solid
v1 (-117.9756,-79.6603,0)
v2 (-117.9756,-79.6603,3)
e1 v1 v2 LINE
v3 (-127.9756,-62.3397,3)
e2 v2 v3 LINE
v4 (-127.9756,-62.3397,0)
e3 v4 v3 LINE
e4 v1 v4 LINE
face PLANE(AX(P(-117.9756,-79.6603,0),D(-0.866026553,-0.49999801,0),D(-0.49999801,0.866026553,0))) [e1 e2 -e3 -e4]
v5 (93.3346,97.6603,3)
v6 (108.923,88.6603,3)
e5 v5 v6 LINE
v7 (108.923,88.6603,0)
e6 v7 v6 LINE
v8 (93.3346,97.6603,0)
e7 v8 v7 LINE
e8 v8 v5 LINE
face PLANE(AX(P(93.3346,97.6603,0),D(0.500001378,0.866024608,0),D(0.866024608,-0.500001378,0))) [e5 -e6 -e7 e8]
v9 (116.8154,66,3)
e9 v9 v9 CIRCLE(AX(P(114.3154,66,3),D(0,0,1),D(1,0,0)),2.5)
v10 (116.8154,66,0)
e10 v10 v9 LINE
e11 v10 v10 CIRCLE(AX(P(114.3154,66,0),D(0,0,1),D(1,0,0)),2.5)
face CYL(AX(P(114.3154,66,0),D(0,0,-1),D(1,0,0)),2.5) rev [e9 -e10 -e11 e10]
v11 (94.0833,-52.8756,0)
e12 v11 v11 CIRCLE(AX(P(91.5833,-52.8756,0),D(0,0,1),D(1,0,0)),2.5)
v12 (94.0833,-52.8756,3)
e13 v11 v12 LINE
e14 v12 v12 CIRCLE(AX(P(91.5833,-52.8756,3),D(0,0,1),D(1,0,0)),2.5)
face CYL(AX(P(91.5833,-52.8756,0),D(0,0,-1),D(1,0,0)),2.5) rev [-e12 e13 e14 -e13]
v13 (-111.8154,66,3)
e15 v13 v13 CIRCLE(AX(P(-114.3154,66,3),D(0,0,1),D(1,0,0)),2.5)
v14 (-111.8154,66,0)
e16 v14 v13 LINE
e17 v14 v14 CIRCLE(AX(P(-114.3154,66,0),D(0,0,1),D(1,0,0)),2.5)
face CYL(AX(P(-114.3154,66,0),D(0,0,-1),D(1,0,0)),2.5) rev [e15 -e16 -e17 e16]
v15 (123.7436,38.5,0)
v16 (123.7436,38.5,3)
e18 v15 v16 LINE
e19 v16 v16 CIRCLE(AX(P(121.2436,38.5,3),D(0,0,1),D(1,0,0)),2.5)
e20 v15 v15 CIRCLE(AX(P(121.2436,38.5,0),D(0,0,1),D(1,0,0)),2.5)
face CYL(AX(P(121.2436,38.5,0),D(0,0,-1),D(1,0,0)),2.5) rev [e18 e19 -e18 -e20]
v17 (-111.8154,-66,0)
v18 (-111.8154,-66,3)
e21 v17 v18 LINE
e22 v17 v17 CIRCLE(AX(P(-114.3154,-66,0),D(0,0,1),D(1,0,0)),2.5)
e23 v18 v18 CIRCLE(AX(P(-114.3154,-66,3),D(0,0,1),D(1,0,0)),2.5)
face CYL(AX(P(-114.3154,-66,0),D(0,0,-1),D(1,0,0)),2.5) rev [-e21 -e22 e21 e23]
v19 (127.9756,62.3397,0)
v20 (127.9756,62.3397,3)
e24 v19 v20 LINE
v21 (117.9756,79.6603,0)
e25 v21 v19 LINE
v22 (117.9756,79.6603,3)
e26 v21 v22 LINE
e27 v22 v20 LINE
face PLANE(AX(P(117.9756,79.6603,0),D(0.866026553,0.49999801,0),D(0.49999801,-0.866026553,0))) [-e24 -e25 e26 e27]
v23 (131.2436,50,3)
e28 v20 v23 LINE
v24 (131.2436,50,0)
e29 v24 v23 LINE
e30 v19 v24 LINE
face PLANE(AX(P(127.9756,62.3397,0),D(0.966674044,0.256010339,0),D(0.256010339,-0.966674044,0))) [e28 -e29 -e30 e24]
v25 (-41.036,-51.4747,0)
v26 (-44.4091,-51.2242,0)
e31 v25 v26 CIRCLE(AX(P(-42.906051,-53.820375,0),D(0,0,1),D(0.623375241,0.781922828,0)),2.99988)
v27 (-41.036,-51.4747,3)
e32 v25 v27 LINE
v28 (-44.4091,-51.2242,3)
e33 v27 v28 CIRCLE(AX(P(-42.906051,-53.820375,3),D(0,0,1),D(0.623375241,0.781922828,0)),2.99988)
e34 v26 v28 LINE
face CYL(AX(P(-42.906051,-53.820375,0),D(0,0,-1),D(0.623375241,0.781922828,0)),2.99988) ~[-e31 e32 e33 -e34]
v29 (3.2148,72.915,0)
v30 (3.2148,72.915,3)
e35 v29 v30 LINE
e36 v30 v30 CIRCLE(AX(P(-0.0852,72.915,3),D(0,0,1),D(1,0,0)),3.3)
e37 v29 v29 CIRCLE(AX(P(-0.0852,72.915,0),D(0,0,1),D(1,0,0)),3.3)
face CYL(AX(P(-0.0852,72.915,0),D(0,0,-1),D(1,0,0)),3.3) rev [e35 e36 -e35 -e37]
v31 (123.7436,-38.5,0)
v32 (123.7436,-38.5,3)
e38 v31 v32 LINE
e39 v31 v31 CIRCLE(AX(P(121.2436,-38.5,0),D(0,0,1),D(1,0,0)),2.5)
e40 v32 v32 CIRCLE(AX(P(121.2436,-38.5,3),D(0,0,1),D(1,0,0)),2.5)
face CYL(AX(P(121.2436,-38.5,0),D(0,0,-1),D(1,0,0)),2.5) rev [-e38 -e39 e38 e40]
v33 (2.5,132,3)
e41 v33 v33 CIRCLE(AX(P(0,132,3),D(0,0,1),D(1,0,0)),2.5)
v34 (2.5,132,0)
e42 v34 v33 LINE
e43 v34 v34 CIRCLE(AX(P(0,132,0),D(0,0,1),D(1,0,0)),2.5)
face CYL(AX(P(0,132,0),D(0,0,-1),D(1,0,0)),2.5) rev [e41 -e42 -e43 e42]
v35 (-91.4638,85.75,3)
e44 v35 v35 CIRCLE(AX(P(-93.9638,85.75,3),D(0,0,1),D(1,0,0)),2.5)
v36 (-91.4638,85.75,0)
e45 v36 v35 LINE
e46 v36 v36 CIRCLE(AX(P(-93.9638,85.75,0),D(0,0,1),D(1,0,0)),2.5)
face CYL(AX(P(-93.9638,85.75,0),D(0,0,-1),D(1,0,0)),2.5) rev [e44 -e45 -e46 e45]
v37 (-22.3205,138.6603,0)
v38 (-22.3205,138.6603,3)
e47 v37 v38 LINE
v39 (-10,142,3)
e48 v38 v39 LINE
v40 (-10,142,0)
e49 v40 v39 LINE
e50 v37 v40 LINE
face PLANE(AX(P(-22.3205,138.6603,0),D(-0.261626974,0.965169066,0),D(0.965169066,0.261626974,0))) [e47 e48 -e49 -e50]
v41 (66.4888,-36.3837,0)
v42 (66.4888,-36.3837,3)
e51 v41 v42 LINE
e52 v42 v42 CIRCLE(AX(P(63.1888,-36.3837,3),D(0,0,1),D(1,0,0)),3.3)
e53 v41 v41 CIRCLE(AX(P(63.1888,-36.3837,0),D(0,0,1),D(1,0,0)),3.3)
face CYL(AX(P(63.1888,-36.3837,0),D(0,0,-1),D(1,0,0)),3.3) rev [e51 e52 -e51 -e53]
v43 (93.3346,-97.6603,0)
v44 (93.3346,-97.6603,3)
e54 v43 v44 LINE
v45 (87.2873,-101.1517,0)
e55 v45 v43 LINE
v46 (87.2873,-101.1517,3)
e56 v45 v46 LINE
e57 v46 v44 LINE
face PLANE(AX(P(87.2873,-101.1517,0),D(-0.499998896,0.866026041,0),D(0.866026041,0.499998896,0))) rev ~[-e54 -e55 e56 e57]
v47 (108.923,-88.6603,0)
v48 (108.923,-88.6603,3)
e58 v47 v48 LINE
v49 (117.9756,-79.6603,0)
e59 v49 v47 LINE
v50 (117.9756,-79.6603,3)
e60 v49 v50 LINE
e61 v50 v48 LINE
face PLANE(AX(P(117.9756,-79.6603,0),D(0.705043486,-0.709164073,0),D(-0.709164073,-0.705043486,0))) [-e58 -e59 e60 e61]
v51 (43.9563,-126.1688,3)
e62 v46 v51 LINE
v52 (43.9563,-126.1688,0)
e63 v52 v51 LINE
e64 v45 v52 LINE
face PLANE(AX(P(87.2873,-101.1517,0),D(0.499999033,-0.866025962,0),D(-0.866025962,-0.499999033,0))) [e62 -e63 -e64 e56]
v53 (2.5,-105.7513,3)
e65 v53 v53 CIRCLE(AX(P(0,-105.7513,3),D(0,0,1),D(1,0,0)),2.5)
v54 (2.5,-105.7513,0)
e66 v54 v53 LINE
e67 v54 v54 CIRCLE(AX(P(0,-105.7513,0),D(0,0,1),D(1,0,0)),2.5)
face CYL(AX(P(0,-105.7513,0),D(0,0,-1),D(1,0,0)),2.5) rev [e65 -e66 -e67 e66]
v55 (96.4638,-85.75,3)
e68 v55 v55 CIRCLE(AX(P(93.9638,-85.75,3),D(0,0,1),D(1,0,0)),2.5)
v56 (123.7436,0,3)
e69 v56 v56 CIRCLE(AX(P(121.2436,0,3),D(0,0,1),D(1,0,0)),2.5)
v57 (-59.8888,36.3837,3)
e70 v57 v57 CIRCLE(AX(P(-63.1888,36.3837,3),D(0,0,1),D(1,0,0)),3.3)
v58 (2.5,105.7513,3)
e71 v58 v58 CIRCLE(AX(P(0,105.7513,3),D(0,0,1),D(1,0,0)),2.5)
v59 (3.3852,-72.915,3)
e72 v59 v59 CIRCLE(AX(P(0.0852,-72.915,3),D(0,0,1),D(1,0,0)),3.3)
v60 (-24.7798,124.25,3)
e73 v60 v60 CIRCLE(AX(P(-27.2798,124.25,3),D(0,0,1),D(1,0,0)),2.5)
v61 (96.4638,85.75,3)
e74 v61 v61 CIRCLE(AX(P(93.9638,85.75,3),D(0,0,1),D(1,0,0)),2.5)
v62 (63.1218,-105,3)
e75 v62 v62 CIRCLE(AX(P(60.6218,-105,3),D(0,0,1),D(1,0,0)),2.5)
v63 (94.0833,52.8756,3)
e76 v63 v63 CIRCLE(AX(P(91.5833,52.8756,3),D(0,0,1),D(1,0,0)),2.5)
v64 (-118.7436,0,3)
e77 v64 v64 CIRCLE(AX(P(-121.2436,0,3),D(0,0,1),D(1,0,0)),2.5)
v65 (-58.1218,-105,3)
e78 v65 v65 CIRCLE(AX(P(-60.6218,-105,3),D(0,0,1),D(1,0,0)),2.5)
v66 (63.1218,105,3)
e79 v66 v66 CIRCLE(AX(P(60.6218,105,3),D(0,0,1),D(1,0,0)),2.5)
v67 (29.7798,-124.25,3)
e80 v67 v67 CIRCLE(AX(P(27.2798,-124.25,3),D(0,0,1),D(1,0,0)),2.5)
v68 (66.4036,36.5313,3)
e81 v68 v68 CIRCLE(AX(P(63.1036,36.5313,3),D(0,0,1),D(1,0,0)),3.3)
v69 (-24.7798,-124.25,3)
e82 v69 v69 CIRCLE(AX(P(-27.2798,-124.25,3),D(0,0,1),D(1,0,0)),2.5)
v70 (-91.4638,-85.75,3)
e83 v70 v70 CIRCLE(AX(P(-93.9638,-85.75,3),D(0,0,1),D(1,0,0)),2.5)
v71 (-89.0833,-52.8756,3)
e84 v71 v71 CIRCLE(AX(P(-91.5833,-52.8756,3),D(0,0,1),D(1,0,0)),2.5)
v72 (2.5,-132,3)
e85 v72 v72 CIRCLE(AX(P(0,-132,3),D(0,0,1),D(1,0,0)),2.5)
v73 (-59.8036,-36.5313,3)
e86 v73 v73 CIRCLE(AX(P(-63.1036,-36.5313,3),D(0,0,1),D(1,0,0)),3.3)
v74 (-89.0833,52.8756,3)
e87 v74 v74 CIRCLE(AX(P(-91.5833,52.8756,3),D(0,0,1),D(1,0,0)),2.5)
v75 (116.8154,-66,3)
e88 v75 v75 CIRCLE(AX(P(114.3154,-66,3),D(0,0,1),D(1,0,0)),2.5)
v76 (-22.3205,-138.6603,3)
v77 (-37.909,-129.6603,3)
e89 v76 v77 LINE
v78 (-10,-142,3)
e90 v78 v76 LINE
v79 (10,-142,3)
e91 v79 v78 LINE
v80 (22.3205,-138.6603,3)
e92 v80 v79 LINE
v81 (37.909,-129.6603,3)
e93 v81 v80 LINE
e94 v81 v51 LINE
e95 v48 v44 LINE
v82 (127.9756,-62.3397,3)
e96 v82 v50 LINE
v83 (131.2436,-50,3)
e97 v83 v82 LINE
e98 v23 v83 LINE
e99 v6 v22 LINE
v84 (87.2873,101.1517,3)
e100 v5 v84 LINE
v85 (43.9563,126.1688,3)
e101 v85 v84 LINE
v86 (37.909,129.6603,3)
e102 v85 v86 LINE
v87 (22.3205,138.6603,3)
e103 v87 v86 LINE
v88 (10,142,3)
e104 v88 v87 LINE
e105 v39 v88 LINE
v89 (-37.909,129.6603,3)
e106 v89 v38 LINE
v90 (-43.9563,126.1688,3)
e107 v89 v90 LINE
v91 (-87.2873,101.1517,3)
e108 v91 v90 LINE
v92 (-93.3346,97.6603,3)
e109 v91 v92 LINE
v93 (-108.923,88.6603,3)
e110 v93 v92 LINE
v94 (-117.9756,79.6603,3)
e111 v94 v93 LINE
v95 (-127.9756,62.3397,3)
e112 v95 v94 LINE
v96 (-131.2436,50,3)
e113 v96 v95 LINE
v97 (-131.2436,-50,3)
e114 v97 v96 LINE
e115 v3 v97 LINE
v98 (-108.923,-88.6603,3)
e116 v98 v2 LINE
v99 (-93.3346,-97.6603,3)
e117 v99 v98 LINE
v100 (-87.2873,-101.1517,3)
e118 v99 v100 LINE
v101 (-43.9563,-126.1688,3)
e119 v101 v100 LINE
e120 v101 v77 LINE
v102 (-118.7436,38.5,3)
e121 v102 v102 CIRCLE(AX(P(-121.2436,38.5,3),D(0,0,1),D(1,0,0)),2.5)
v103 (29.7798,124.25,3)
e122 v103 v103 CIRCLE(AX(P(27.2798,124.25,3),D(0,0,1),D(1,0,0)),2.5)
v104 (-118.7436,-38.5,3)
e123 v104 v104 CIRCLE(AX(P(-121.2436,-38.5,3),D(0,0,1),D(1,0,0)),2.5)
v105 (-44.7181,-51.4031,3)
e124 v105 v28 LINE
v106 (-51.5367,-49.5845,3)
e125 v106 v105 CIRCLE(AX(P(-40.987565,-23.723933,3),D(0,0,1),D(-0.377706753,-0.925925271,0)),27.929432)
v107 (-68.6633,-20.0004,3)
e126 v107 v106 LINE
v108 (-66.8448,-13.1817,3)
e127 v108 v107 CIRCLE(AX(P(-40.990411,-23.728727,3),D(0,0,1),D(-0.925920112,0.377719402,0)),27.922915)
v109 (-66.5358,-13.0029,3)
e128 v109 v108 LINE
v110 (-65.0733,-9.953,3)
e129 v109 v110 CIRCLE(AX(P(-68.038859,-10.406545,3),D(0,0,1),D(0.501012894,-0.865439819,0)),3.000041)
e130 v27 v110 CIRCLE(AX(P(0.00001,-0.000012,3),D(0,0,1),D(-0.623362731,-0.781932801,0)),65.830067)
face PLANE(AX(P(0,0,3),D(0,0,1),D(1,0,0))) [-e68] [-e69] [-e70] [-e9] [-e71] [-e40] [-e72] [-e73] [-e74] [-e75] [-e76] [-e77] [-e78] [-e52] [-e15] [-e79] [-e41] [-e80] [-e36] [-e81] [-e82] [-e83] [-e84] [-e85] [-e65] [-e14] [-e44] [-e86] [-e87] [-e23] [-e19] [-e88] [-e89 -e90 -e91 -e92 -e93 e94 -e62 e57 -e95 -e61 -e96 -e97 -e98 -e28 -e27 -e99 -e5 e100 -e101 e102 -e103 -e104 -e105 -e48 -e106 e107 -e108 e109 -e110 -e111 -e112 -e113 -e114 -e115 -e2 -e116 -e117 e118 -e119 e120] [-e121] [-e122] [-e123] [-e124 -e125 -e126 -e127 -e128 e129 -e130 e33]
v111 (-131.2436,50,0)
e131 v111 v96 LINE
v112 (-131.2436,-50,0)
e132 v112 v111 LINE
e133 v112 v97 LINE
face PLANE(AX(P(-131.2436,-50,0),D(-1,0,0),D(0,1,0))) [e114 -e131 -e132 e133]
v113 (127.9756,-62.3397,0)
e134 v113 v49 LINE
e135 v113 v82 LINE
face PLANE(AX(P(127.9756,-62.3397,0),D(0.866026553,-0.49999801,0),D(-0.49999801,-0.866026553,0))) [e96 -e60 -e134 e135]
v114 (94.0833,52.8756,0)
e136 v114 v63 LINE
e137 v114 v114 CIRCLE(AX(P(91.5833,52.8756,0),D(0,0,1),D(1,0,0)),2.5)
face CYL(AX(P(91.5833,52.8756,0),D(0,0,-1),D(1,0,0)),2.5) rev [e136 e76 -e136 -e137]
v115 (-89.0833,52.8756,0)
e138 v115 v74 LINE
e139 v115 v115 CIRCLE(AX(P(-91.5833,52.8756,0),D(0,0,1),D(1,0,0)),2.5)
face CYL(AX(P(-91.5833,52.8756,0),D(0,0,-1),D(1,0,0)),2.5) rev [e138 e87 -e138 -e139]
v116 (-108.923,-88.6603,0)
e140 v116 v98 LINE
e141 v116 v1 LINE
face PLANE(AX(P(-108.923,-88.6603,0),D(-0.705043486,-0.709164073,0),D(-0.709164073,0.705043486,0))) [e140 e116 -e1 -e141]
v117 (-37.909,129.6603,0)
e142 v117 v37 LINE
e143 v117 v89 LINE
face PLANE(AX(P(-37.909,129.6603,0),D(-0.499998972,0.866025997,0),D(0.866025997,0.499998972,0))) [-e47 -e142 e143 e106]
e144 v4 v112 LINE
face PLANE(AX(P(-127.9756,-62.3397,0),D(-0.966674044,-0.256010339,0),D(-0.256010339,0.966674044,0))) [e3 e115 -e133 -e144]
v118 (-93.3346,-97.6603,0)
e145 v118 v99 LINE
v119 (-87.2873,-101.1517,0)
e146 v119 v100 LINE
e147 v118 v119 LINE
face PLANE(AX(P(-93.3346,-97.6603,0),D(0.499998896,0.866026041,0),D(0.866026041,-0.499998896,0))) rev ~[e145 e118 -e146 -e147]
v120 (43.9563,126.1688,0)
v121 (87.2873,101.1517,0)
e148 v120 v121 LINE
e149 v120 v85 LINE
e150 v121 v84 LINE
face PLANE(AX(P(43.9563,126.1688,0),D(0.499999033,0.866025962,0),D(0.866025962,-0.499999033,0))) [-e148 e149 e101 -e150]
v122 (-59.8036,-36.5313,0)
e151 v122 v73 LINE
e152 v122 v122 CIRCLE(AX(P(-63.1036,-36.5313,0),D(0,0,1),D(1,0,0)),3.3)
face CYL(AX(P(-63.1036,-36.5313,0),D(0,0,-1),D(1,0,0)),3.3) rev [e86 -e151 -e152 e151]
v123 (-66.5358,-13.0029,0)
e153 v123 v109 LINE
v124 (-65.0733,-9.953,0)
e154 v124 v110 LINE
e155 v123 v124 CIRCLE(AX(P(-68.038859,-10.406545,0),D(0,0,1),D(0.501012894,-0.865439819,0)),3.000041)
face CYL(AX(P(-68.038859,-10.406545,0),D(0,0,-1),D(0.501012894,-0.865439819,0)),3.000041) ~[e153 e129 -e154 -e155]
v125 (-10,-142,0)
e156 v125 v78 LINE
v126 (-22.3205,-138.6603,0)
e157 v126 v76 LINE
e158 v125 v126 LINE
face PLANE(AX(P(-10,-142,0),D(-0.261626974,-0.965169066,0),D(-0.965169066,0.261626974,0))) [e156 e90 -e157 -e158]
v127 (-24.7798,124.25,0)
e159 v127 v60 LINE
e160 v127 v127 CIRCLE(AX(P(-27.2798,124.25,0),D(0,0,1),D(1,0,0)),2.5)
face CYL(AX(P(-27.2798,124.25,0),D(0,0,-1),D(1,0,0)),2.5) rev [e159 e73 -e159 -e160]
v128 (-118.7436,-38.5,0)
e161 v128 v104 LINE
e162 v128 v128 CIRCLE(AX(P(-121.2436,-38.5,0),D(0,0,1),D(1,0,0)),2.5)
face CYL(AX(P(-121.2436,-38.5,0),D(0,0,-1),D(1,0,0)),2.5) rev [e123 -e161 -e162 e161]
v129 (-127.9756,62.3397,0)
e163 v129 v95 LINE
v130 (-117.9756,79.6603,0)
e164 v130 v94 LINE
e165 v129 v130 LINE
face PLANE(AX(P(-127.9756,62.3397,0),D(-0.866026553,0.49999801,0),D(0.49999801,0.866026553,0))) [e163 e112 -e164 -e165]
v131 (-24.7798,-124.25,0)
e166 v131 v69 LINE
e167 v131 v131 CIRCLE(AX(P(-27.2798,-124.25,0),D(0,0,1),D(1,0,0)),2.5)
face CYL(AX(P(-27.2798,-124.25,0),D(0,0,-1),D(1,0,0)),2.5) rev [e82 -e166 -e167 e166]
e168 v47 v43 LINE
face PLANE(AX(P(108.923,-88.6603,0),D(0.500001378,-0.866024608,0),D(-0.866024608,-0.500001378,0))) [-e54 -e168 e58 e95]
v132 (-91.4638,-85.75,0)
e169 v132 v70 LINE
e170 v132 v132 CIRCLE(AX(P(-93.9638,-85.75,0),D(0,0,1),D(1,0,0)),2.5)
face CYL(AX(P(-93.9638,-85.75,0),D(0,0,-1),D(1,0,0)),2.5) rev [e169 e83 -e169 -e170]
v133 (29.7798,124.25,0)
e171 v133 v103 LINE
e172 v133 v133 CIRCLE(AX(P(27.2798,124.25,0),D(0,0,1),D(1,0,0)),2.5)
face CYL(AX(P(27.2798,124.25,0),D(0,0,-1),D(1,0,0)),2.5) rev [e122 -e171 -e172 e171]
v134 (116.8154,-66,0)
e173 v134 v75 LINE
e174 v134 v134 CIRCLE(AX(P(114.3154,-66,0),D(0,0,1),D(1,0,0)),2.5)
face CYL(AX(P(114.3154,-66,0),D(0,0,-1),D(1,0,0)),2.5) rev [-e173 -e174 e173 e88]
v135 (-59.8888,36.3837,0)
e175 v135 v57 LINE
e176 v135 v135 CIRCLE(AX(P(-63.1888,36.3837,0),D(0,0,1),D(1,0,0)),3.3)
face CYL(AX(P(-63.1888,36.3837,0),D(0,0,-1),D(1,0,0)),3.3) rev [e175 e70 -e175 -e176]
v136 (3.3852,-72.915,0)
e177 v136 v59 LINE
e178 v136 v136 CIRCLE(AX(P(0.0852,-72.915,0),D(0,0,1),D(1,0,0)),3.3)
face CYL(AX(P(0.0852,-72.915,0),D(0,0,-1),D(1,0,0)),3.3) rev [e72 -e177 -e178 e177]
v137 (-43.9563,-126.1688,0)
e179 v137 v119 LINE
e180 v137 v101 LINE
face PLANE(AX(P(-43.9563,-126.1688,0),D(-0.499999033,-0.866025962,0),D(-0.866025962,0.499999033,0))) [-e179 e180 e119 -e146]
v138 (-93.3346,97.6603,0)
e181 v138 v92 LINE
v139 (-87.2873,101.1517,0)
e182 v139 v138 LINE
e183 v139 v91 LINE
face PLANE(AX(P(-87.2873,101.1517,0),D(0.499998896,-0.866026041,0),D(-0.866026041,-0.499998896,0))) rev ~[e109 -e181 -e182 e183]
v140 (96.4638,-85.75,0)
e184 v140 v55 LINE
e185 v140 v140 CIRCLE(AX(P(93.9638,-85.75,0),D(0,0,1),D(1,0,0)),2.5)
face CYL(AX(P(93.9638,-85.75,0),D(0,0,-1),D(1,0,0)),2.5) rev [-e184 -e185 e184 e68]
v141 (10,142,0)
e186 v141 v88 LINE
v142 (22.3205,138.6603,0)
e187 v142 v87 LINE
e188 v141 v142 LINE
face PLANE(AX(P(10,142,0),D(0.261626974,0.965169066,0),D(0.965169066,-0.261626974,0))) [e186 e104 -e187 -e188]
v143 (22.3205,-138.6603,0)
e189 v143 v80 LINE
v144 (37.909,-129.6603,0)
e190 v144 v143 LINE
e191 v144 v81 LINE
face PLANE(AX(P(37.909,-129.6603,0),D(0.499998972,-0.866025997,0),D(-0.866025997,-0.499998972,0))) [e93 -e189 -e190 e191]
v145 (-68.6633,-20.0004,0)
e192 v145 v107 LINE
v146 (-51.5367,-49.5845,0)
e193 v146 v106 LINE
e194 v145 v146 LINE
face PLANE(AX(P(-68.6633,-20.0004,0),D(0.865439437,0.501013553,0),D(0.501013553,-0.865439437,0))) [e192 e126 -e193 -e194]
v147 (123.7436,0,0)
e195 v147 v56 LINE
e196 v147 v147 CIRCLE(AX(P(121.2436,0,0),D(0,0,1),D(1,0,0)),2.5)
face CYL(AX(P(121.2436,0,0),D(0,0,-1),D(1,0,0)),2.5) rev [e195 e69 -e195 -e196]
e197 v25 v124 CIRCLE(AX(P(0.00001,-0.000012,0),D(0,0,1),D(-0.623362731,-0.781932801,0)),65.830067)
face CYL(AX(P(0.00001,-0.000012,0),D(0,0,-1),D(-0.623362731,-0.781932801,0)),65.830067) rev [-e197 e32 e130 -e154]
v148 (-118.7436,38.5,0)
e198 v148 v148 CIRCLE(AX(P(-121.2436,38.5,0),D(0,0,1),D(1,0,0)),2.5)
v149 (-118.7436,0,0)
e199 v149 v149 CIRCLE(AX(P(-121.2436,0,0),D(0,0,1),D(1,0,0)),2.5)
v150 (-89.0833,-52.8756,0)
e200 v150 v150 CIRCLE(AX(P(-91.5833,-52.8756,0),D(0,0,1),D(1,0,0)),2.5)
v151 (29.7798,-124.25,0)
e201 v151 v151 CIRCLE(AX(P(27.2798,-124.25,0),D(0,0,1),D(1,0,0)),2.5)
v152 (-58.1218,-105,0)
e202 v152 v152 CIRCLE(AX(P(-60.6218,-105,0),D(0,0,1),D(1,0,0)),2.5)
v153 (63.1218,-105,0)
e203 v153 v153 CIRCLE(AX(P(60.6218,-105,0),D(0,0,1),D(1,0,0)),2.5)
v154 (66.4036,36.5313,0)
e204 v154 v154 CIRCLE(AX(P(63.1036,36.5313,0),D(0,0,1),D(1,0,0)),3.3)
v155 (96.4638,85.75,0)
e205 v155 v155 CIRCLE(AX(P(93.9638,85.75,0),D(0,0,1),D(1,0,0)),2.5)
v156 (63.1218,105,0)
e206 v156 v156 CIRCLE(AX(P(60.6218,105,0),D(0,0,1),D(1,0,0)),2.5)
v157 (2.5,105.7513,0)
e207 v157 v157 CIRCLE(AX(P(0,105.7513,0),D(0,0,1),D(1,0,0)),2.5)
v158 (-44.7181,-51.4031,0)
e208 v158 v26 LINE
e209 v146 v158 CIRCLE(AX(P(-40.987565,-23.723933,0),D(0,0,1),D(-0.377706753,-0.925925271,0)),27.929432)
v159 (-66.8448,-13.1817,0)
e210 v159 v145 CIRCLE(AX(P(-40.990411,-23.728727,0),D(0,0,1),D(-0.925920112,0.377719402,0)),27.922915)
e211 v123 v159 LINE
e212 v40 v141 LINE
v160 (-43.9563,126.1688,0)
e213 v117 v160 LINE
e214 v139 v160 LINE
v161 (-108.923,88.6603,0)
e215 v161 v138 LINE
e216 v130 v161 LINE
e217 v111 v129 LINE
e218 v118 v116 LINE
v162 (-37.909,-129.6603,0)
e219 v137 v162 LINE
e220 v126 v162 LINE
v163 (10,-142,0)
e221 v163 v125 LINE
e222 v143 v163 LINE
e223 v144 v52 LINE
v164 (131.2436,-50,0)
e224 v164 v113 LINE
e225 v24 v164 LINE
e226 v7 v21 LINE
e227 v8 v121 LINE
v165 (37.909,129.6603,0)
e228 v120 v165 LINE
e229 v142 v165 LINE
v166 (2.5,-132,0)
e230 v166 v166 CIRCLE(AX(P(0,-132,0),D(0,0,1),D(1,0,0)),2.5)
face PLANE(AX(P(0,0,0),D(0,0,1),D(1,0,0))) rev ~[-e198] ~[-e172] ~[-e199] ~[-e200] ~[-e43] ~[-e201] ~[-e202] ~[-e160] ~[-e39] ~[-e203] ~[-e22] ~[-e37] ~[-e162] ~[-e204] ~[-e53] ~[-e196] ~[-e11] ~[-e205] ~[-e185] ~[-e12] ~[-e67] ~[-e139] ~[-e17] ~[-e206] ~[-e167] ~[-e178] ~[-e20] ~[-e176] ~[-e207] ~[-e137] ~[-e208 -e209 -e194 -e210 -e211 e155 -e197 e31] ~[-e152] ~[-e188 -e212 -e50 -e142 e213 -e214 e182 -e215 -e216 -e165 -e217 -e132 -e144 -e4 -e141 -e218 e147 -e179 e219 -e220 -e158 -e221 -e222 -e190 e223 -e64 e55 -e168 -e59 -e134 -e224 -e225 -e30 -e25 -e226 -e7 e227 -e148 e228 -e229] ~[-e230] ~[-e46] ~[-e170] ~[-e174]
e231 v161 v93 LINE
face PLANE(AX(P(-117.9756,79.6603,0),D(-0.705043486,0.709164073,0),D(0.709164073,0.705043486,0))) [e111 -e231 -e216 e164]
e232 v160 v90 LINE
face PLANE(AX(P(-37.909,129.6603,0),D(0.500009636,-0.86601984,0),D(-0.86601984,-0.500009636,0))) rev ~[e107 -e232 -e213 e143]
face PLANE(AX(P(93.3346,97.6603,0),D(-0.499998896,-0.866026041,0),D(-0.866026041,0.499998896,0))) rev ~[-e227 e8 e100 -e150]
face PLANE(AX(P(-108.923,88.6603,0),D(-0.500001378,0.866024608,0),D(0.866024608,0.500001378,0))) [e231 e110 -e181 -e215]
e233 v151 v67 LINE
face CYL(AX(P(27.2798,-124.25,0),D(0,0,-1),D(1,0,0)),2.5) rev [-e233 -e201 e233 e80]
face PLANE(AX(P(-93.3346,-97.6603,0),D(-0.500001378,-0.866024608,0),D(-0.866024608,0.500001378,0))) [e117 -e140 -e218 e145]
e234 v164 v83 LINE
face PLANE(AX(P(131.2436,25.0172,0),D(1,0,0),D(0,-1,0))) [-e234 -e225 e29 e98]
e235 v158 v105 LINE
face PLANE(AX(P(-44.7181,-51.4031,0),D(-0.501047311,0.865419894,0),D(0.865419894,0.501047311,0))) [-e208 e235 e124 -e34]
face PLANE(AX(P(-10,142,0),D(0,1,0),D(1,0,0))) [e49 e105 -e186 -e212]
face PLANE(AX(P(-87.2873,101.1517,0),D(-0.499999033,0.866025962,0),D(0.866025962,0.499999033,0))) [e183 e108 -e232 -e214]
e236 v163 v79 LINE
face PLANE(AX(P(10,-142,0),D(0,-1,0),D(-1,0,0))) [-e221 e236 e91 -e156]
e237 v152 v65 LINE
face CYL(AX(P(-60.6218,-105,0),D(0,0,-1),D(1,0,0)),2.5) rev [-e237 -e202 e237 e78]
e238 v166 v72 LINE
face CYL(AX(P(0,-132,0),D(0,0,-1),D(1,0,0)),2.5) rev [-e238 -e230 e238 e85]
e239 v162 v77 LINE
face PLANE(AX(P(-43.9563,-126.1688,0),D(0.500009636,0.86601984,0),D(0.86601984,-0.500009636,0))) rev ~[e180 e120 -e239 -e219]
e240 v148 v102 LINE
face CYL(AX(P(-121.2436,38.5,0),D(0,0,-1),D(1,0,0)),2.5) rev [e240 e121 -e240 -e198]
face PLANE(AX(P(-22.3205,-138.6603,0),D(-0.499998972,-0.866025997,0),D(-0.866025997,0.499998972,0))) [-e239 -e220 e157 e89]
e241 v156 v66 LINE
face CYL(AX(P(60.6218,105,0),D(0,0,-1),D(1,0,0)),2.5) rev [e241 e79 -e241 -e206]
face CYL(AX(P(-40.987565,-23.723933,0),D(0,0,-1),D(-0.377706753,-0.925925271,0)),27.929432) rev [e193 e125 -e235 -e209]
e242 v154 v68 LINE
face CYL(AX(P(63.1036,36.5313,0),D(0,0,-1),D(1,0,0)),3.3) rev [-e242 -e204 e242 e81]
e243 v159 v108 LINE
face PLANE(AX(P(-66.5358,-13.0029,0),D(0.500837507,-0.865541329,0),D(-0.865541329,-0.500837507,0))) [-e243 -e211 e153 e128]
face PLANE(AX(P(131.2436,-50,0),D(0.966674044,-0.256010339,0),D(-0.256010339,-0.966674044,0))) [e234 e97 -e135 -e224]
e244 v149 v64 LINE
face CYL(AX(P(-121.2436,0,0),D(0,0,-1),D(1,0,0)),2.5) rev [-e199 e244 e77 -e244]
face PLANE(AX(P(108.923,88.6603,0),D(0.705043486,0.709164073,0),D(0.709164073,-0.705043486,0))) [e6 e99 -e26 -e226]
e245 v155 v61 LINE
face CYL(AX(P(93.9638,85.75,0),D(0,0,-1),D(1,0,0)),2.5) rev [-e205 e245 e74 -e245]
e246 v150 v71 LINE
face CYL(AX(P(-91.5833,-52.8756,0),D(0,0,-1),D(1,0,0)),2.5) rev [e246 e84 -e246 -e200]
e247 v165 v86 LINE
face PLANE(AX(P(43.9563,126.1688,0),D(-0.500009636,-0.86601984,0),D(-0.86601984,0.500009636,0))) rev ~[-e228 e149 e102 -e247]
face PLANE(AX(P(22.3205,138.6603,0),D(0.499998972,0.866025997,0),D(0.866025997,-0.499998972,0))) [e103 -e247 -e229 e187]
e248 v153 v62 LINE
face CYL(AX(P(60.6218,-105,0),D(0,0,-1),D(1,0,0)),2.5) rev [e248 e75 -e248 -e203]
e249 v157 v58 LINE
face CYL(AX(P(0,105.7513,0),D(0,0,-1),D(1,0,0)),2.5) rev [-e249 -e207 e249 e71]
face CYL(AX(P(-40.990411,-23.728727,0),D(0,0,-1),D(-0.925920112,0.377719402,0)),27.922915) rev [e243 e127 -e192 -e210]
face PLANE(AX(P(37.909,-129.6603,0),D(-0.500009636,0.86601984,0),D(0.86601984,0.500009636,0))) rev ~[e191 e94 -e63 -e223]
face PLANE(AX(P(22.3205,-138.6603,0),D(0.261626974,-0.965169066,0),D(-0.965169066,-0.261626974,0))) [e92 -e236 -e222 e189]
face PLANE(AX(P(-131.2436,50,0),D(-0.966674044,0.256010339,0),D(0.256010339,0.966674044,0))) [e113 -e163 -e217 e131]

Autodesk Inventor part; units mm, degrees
ref_plane "YZ Plane" through (0, 0, 0) normal (1, 0, 0) x (0, 1, 0)
ref_plane "XZ Plane" through (0, 0, 0) normal (0, 1, 0) x (-1, 0, 0)
ref_plane "XY Plane" through (0, 0, 0) normal (0, 0, 1) x (1, 0, 0)
sketch "Skizze1" plane through (0, 0, 0) normal (0, 0, 1) x (1, 0, 0)
  circle A0 centre (60.6218, 105) radius 2.5
  circle A1 centre (-60.6218, 105) radius 2.5
  circle A2 centre (-121.2436, 0) radius 2.5
  circle A3 centre (-60.6218, -105) radius 2.5
  circle A4 centre (60.6218, -105) radius 2.5
  circle A5 centre (121.2436, 0) radius 2.5
  arc A6 (-66.5358, -13.0029) -> (-65.0733, -9.953) centre (-68.0388, -10.4066) ccw
  line L0 (-66.5358, -13.0029) -> (-66.8448, -13.1817)
  arc A7 (-66.8448, -13.1817) -> (-68.6633, -20.0004) centre (-40.9893, -23.7291) ccw
  line L1 (-68.6633, -20.0004) -> (-51.5367, -49.5845)
  arc A8 (-51.5367, -49.5845) -> (-44.7181, -51.4031) centre (-40.9893, -23.7291) ccw
  line L2 (-44.7181, -51.4031) -> (-44.4091, -51.2242)
  arc A9 (-41.036, -51.4747) -> (-44.4091, -51.2242) centre (-42.9061, -53.8205) ccw
  arc A10 (-41.036, -51.4747) -> (-65.0733, -9.953) centre (0, 0) ccw
  circle A11 centre (-63.1036, -36.5313) radius 3.3
  circle A12 centre (63.1888, -36.3837) radius 3.3
  circle A13 centre (-0.0852, 72.915) radius 3.3
  circle A14 centre (63.1036, 36.5313) radius 3.3
  circle A15 centre (0.0852, -72.915) radius 3.3
  circle A16 centre (-63.1888, 36.3837) radius 3.3
  arc A17 (131.2436, 25.0172) -> (128.4541, 26.8548) centre (129.2436, 25.0172) ccw
  line L3 (131.2436, 25.0172) -> (131.2436, -25.0172)
  arc A18 (128.4541, -26.8548) -> (131.2436, -25.0172) centre (129.2436, -25.0172) ccw
  arc A19 (128.4541, -26.8548) -> (126.2436, -26.4) centre (126.2436, -32) ccw
  line L4 (126.2436, -26.4) -> (110.2436, -26.4) construction
  arc A20 (110.2436, -26.4) -> (104.6436, -32) centre (110.2436, -32) ccw construction
  line L5 (104.6436, -32) -> (104.6436, -40.5551) construction
  arc A21 (98.0436, -44.3656) -> (104.6436, -40.5551) centre (100.2436, -40.5551) ccw construction
  line L6 (98.0436, -44.3656) -> (92.5532, -41.1958) construction
  arc A22 (92.5532, -41.1958) -> (84.9034, -43.2455) centre (89.7532, -46.0455) ccw construction
  line L7 (84.9034, -43.2455) -> (79.9034, -51.9058) construction
  arc A23 (79.9034, -51.9058) -> (81.9532, -59.5555) centre (84.7532, -54.7058) ccw construction
  line L8 (81.9532, -59.5555) -> (87.4436, -62.7254) construction
  arc A24 (87.4436, -70.3464) -> (87.4436, -62.7254) centre (85.2436, -66.5359) ccw construction
  line L9 (87.4436, -70.3464) -> (80.0346, -74.624) construction
  arc A25 (80.0346, -74.624) -> (77.9848, -82.2737) centre (82.8346, -79.4737) ccw construction
  line L10 (77.9848, -82.2737) -> (85.9848, -96.1301) construction
  arc A26 (85.9848, -96.1301) -> (87.4839, -97.8171) centre (90.8346, -93.3301) ccw
  arc A27 (87.2873, -101.1517) -> (87.4839, -97.8171) centre (86.2873, -99.4196) ccw
  line L11 (87.2873, -101.1517) -> (43.9563, -126.1688)
  arc A28 (40.9701, -124.6719) -> (43.9563, -126.1688) centre (42.9563, -124.4368) ccw
  arc A29 (40.9701, -124.6719) -> (40.2587, -122.5301) centre (35.409, -125.3301) ccw
  line L12 (40.2587, -122.5301) -> (32.2587, -108.6737) construction
  arc A30 (32.2587, -108.6737) -> (24.609, -106.624) centre (27.409, -111.4737) ccw construction
  line L13 (24.609, -106.624) -> (17.2, -110.9015) construction
  arc A31 (10.6, -107.091) -> (17.2, -110.9015) centre (15, -107.091) ccw construction
  line L14 (10.6, -107.091) -> (10.6, -100.7513) construction
  arc A32 (10.6, -100.7513) -> (5, -95.1513) centre (5, -100.7513) ccw construction
  line L15 (5, -95.1513) -> (-5, -95.1513) construction
  arc A33 (-5, -95.1513) -> (-10.6, -100.7513) centre (-5, -100.7513) ccw construction
  line L16 (-10.6, -100.7513) -> (-10.6, -107.091) construction
  arc A34 (-17.2, -110.9015) -> (-10.6, -107.091) centre (-15, -107.091) ccw construction
  line L17 (-17.2, -110.9015) -> (-24.609, -106.624) construction
  arc A35 (-24.609, -106.624) -> (-32.2587, -108.6737) centre (-27.409, -111.4737) ccw construction
  line L18 (-32.2587, -108.6737) -> (-40.2587, -122.5301) construction
  arc A36 (-40.2587, -122.5301) -> (-40.9701, -124.6719) centre (-35.409, -125.3301) ccw
  arc A37 (-43.9563, -126.1688) -> (-40.9701, -124.6719) centre (-42.9563, -124.4368) ccw
  line L19 (-43.9563, -126.1688) -> (-87.2873, -101.1517)
  arc A38 (-87.4839, -97.8171) -> (-87.2873, -101.1517) centre (-86.2873, -99.4196) ccw
  arc A39 (-87.4839, -97.8171) -> (-85.9848, -96.1301) centre (-90.8346, -93.3301) ccw
  line L20 (-85.9848, -96.1301) -> (-77.9848, -82.2737) construction
  arc A40 (-77.9848, -82.2737) -> (-80.0346, -74.624) centre (-82.8346, -79.4737) ccw construction
  line L21 (-80.0346, -74.624) -> (-87.4436, -70.3464) construction
  arc A41 (-87.4436, -62.7254) -> (-87.4436, -70.3464) centre (-85.2436, -66.5359) ccw construction
  line L22 (-87.4436, -62.7254) -> (-81.9532, -59.5555) construction
  arc A42 (-81.9532, -59.5555) -> (-79.9034, -51.9058) centre (-84.7532, -54.7058) ccw construction
  line L23 (-79.9034, -51.9058) -> (-84.9034, -43.2455) construction
  arc A43 (-84.9034, -43.2455) -> (-92.5532, -41.1958) centre (-89.7532, -46.0455) ccw construction
  line L24 (-92.5532, -41.1958) -> (-98.0436, -44.3656) construction
  arc A44 (-104.6436, -40.5551) -> (-98.0436, -44.3656) centre (-100.2436, -40.5551) ccw construction
  line L25 (-104.6436, -40.5551) -> (-104.6436, -32) construction
  arc A45 (-104.6436, -32) -> (-110.2436, -26.4) centre (-110.2436, -32) ccw construction
  line L26 (-110.2436, -26.4) -> (-126.2436, -26.4) construction
  arc A46 (-126.2436, -26.4) -> (-128.4541, -26.8548) centre (-126.2436, -32) ccw
  arc A47 (-131.2436, -25.0172) -> (-128.4541, -26.8548) centre (-129.2436, -25.0172) ccw
  line L27 (-131.2436, -25.0172) -> (-131.2436, 25.0172)
  arc A48 (-128.4541, 26.8548) -> (-131.2436, 25.0172) centre (-129.2436, 25.0172) ccw
  arc A49 (-128.4541, 26.8548) -> (-126.2436, 26.4) centre (-126.2436, 32) ccw
  line L28 (-126.2436, 26.4) -> (-110.2436, 26.4) construction
  arc A50 (-110.2436, 26.4) -> (-104.6436, 32) centre (-110.2436, 32) ccw construction
  line L29 (-104.6436, 32) -> (-104.6436, 40.5551) construction
  arc A51 (-98.0436, 44.3656) -> (-104.6436, 40.5551) centre (-100.2436, 40.5551) ccw construction
  line L30 (-98.0436, 44.3656) -> (-92.5532, 41.1958) construction
  arc A52 (-92.5532, 41.1958) -> (-84.9034, 43.2455) centre (-89.7532, 46.0455) ccw construction
  line L31 (-84.9034, 43.2455) -> (-79.9034, 51.9058) construction
  arc A53 (-79.9034, 51.9058) -> (-81.9532, 59.5555) centre (-84.7532, 54.7058) ccw construction
  line L32 (-81.9532, 59.5555) -> (-87.4436, 62.7254) construction
  arc A54 (-87.4436, 70.3464) -> (-87.4436, 62.7254) centre (-85.2436, 66.5359) ccw construction
  line L33 (-87.4436, 70.3464) -> (-80.0346, 74.624) construction
  arc A55 (-80.0346, 74.624) -> (-77.9848, 82.2737) centre (-82.8346, 79.4737) ccw construction
  line L34 (-77.9848, 82.2737) -> (-85.9848, 96.1301) construction
  arc A56 (-85.9848, 96.1301) -> (-87.4839, 97.8171) centre (-90.8346, 93.3301) ccw
  arc A57 (-87.2873, 101.1517) -> (-87.4839, 97.8171) centre (-86.2873, 99.4196) ccw
  line L35 (-87.2873, 101.1517) -> (-43.9563, 126.1688)
  arc A58 (-40.9701, 124.6719) -> (-43.9563, 126.1688) centre (-42.9563, 124.4368) ccw
  arc A59 (-40.9701, 124.6719) -> (-40.2587, 122.5301) centre (-35.409, 125.3301) ccw
  line L36 (-40.2587, 122.5301) -> (-32.2587, 108.6737)
  arc A60 (-32.2587, 108.6737) -> (-24.609, 106.624) centre (-27.409, 111.4737) ccw
  line L37 (-24.609, 106.624) -> (-17.2, 110.9015) construction
  arc A61 (-10.6, 107.091) -> (-17.2, 110.9015) centre (-15, 107.091) ccw construction
  line L38 (-10.6, 107.091) -> (-10.6, 100.7513)
  arc A62 (-10.6, 100.7513) -> (-5, 95.1513) centre (-5, 100.7513) ccw construction
  line L39 (-5, 95.1513) -> (5, 95.1513) construction
  arc A63 (5, 95.1513) -> (10.6, 100.7513) centre (5, 100.7513) ccw construction
  line L40 (10.6, 100.7513) -> (10.6, 107.091)
  arc A64 (17.2, 110.9015) -> (10.6, 107.091) centre (15, 107.091) ccw construction
  line L41 (17.2, 110.9015) -> (24.609, 106.624) construction
  arc A65 (24.609, 106.624) -> (32.2587, 108.6737) centre (27.409, 111.4737) ccw construction
  line L42 (32.2587, 108.6737) -> (40.2587, 122.5301) construction
  arc A66 (40.2587, 122.5301) -> (40.9701, 124.6719) centre (35.409, 125.3301) ccw
  arc A67 (43.9563, 126.1688) -> (40.9701, 124.6719) centre (42.9563, 124.4368) ccw
  line L43 (43.9563, 126.1688) -> (87.2873, 101.1517)
  arc A68 (87.4839, 97.8171) -> (87.2873, 101.1517) centre (86.2873, 99.4196) ccw
  arc A69 (87.4839, 97.8171) -> (85.9848, 96.1301) centre (90.8346, 93.3301) ccw
  line L44 (85.9848, 96.1301) -> (77.9848, 82.2737) construction
  arc A70 (77.9848, 82.2737) -> (80.0346, 74.624) centre (82.8346, 79.4737) ccw construction
  line L45 (80.0346, 74.624) -> (87.4436, 70.3464) construction
  arc A71 (87.4436, 62.7254) -> (87.4436, 70.3464) centre (85.2436, 66.5359) ccw construction
  line L46 (87.4436, 62.7254) -> (81.9532, 59.5555) construction
  arc A72 (81.9532, 59.5555) -> (79.9034, 51.9058) centre (84.7532, 54.7058) ccw construction
  line L47 (79.9034, 51.9058) -> (84.9034, 43.2455) construction
  arc A73 (84.9034, 43.2455) -> (92.5532, 41.1958) centre (89.7532, 46.0455) ccw construction
  line L48 (92.5532, 41.1958) -> (98.0436, 44.3656) construction
  arc A74 (104.6436, 40.5551) -> (98.0436, 44.3656) centre (100.2436, 40.5551) ccw construction
  line L49 (104.6436, 40.5551) -> (104.6436, 32) construction
  arc A75 (104.6436, 32) -> (110.2436, 26.4) centre (110.2436, 32) ccw construction
  line L50 (110.2436, 26.4) -> (126.2436, 26.4) construction
  arc A76 (126.2436, 26.4) -> (128.4541, 26.8548) centre (126.2436, 32) ccw
  arc A77 (80.3346, -75.1436) -> (78.5045, -81.9737) centre (82.8346, -79.4737) ccw construction
  line L51 (80.3346, -75.1436) -> (87.7436, -70.866) construction
  arc A78 (87.7436, -70.866) -> (87.7436, -62.2058) centre (85.2436, -66.5359) ccw construction
  line L52 (87.7436, -62.2058) -> (82.2532, -59.0359) construction
  arc A79 (80.423, -52.2058) -> (82.2532, -59.0359) centre (84.7532, -54.7058) ccw construction
  line L53 (80.423, -52.2058) -> (85.423, -43.5455) construction
  arc A80 (92.2532, -41.7154) -> (85.423, -43.5455) centre (89.7532, -46.0455) ccw construction
  line L54 (92.2532, -41.7154) -> (97.7436, -44.8853) construction
  arc A81 (97.7436, -44.8853) -> (105.2436, -40.5551) centre (100.2436, -40.5551) ccw construction
  line L55 (105.2436, -40.5551) -> (105.2436, -32) construction
  arc A82 (110.2436, -27) -> (105.2436, -32) centre (110.2436, -32) ccw construction
  line L56 (110.2436, -27) -> (126.2436, -27) construction
  arc A83 (131.2436, -32) -> (126.2436, -27) centre (126.2436, -32) ccw
  line L57 (131.2436, -32) -> (131.2436, -50)
  line L58 (131.2436, -50) -> (127.9756, -62.3397)
  line L59 (127.9756, -62.3397) -> (117.9756, -79.6603)
  line L60 (117.9756, -79.6603) -> (108.923, -88.6603)
  line L61 (108.923, -88.6603) -> (93.3346, -97.6603)
  arc A84 (86.5045, -95.8301) -> (93.3346, -97.6603) centre (90.8346, -93.3301) ccw
  line L62 (86.5045, -95.8301) -> (78.5045, -81.9737) construction
  circle A85 centre (114.3154, -66) radius 5.5 construction
  circle A86 centre (91.5833, -52.8756) radius 5.5 construction
  circle A87 centre (93.9638, -85.75) radius 5.5 construction
  circle A88 centre (121.2436, -38.5) radius 5.5 construction
  arc A89 (105.2436, 32) -> (110.2436, 27) centre (110.2436, 32) ccw construction
  line L63 (105.2436, 32) -> (105.2436, 40.5551) construction
  arc A90 (105.2436, 40.5551) -> (97.7436, 44.8853) centre (100.2436, 40.5551) ccw construction
  line L64 (97.7436, 44.8853) -> (92.2532, 41.7154) construction
  arc A91 (85.423, 43.5455) -> (92.2532, 41.7154) centre (89.7532, 46.0455) ccw construction
  line L65 (85.423, 43.5455) -> (80.423, 52.2058) construction
  arc A92 (82.2532, 59.0359) -> (80.423, 52.2058) centre (84.7532, 54.7058) ccw construction
  line L66 (82.2532, 59.0359) -> (87.7436, 62.2058) construction
  arc A93 (87.7436, 62.2058) -> (87.7436, 70.866) centre (85.2436, 66.5359) ccw construction
  line L67 (87.7436, 70.866) -> (80.3346, 75.1436) construction
  arc A94 (78.5045, 81.9737) -> (80.3346, 75.1436) centre (82.8346, 79.4737) ccw construction
  line L68 (78.5045, 81.9737) -> (86.5045, 95.8301) construction
  arc A95 (93.3346, 97.6603) -> (86.5045, 95.8301) centre (90.8346, 93.3301) ccw
  line L69 (93.3346, 97.6603) -> (108.923, 88.6603)
  line L70 (108.923, 88.6603) -> (117.9756, 79.6603)
  line L71 (117.9756, 79.6603) -> (127.9756, 62.3397)
  line L72 (127.9756, 62.3397) -> (131.2436, 50)
  line L73 (131.2436, 50) -> (131.2436, 32)
  arc A96 (126.2436, 27) -> (131.2436, 32) centre (126.2436, 32) ccw
  line L74 (126.2436, 27) -> (110.2436, 27) construction
  circle A97 centre (114.3154, 66) radius 5.5 construction
  circle A98 centre (91.5833, 52.8756) radius 5.5 construction
  circle A99 centre (121.2436, 38.5) radius 5.5 construction
  circle A100 centre (93.9638, 85.75) radius 5.5 construction
  arc A101 (24.909, 107.1436) -> (31.7391, 108.9737) centre (27.409, 111.4737) ccw construction
  line L75 (24.909, 107.1436) -> (17.5, 111.4212) construction
  arc A102 (17.5, 111.4212) -> (10, 107.091) centre (15, 107.091) ccw construction
  line L76 (10, 107.091) -> (10, 100.7513)
  arc A103 (5, 95.7513) -> (10, 100.7513) centre (5, 100.7513) ccw construction
  line L77 (5, 95.7513) -> (-5, 95.7513) construction
  arc A104 (-10, 100.7513) -> (-5, 95.7513) centre (-5, 100.7513) ccw construction
  line L78 (-10, 100.7513) -> (-10, 107.091)
  arc A105 (-10, 107.091) -> (-17.5, 111.4212) centre (-15, 107.091) ccw construction
  line L79 (-17.5, 111.4212) -> (-24.909, 107.1436) construction
  arc A106 (-31.7391, 108.9737) -> (-24.909, 107.1436) centre (-27.409, 111.4737) ccw
  line L80 (-31.7391, 108.9737) -> (-39.7391, 122.8301)
  arc A107 (-37.909, 129.6603) -> (-39.7391, 122.8301) centre (-35.409, 125.3301) ccw
  line L81 (-37.909, 129.6603) -> (-22.3205, 138.6603)
  line L82 (-22.3205, 138.6603) -> (-10, 142)
  line L83 (-10, 142) -> (10, 142)
  line L84 (10, 142) -> (22.3205, 138.6603)
  line L85 (22.3205, 138.6603) -> (37.909, 129.6603)
  arc A108 (39.7391, 122.8301) -> (37.909, 129.6603) centre (35.409, 125.3301) ccw
  line L86 (39.7391, 122.8301) -> (31.7391, 108.9737) construction
  circle A109 centre (0, 132) radius 5.5 construction
  circle A110 centre (0, 105.7513) radius 5.5 construction
  circle A111 centre (27.2798, 124.25) radius 5.5 construction
  circle A112 centre (-27.2798, 124.25) radius 5.5 construction
  arc A113 (-80.3346, 75.1436) -> (-78.5045, 81.9737) centre (-82.8346, 79.4737) ccw construction
  line L87 (-80.3346, 75.1436) -> (-87.7436, 70.866) construction
  arc A114 (-87.7436, 70.866) -> (-87.7436, 62.2058) centre (-85.2436, 66.5359) ccw construction
  line L88 (-87.7436, 62.2058) -> (-82.2532, 59.0359) construction
  arc A115 (-80.423, 52.2058) -> (-82.2532, 59.0359) centre (-84.7532, 54.7058) ccw construction
  line L89 (-80.423, 52.2058) -> (-85.423, 43.5455) construction
  arc A116 (-92.2532, 41.7154) -> (-85.423, 43.5455) centre (-89.7532, 46.0455) ccw construction
  line L90 (-92.2532, 41.7154) -> (-97.7436, 44.8853) construction
  arc A117 (-97.7436, 44.8853) -> (-105.2436, 40.5551) centre (-100.2436, 40.5551) ccw construction
  line L91 (-105.2436, 40.5551) -> (-105.2436, 32) construction
  arc A118 (-110.2436, 27) -> (-105.2436, 32) centre (-110.2436, 32) ccw construction
  line L92 (-110.2436, 27) -> (-126.2436, 27) construction
  arc A119 (-131.2436, 32) -> (-126.2436, 27) centre (-126.2436, 32) ccw
  line L93 (-131.2436, 32) -> (-131.2436, 50)
  line L94 (-131.2436, 50) -> (-127.9756, 62.3397)
  line L95 (-127.9756, 62.3397) -> (-117.9756, 79.6603)
  line L96 (-117.9756, 79.6603) -> (-108.923, 88.6603)
  line L97 (-108.923, 88.6603) -> (-93.3346, 97.6603)
  arc A120 (-86.5045, 95.8301) -> (-93.3346, 97.6603) centre (-90.8346, 93.3301) ccw
  line L98 (-86.5045, 95.8301) -> (-78.5045, 81.9737) construction
  circle A121 centre (-114.3154, 66) radius 5.5 construction
  circle A122 centre (-91.5833, 52.8756) radius 5.5 construction
  circle A123 centre (-93.9638, 85.75) radius 5.5 construction
  circle A124 centre (-121.2436, 38.5) radius 5.5 construction
  arc A125 (-105.2436, -32) -> (-110.2436, -27) centre (-110.2436, -32) ccw construction
  line L99 (-105.2436, -32) -> (-105.2436, -40.5551) construction
  arc A126 (-105.2436, -40.5551) -> (-97.7436, -44.8853) centre (-100.2436, -40.5551) ccw construction
  line L100 (-97.7436, -44.8853) -> (-92.2532, -41.7154) construction
  arc A127 (-85.423, -43.5455) -> (-92.2532, -41.7154) centre (-89.7532, -46.0455) ccw construction
  line L101 (-85.423, -43.5455) -> (-80.423, -52.2058) construction
  arc A128 (-82.2532, -59.0359) -> (-80.423, -52.2058) centre (-84.7532, -54.7058) ccw construction
  line L102 (-82.2532, -59.0359) -> (-87.7436, -62.2058) construction
  arc A129 (-87.7436, -62.2058) -> (-87.7436, -70.866) centre (-85.2436, -66.5359) ccw construction
  line L103 (-87.7436, -70.866) -> (-80.3346, -75.1436) construction
  arc A130 (-78.5045, -81.9737) -> (-80.3346, -75.1436) centre (-82.8346, -79.4737) ccw construction
  line L104 (-78.5045, -81.9737) -> (-86.5045, -95.8301) construction
  arc A131 (-93.3346, -97.6603) -> (-86.5045, -95.8301) centre (-90.8346, -93.3301) ccw
  line L105 (-93.3346, -97.6603) -> (-108.923, -88.6603)
  line L106 (-108.923, -88.6603) -> (-117.9756, -79.6603)
  line L107 (-117.9756, -79.6603) -> (-127.9756, -62.3397)
  line L108 (-127.9756, -62.3397) -> (-131.2436, -50)
  line L109 (-131.2436, -50) -> (-131.2436, -32)
  arc A132 (-126.2436, -27) -> (-131.2436, -32) centre (-126.2436, -32) ccw
  line L110 (-126.2436, -27) -> (-110.2436, -27) construction
  circle A133 centre (-114.3154, -66) radius 5.5 construction
  circle A134 centre (-91.5833, -52.8756) radius 5.5 construction
  circle A135 centre (-121.2436, -38.5) radius 5.5 construction
  circle A136 centre (-93.9638, -85.75) radius 5.5 construction
  arc A137 (-24.909, -107.1436) -> (-31.7391, -108.9737) centre (-27.409, -111.4737) ccw construction
  line L111 (-24.909, -107.1436) -> (-17.5, -111.4212) construction
  arc A138 (-17.5, -111.4212) -> (-10, -107.091) centre (-15, -107.091) ccw construction
  line L112 (-10, -107.091) -> (-10, -100.7513) construction
  arc A139 (-5, -95.7513) -> (-10, -100.7513) centre (-5, -100.7513) ccw construction
  line L113 (-5, -95.7513) -> (5, -95.7513) construction
  arc A140 (10, -100.7513) -> (5, -95.7513) centre (5, -100.7513) ccw construction
  line L114 (10, -100.7513) -> (10, -107.091) construction
  arc A141 (10, -107.091) -> (17.5, -111.4212) centre (15, -107.091) ccw construction
  line L115 (17.5, -111.4212) -> (24.909, -107.1436) construction
  arc A142 (31.7391, -108.9737) -> (24.909, -107.1436) centre (27.409, -111.4737) ccw construction
  line L116 (31.7391, -108.9737) -> (39.7391, -122.8301) construction
  arc A143 (37.909, -129.6603) -> (39.7391, -122.8301) centre (35.409, -125.3301) ccw
  line L117 (37.909, -129.6603) -> (22.3205, -138.6603)
  line L118 (22.3205, -138.6603) -> (10, -142)
  line L119 (10, -142) -> (-10, -142)
  line L120 (-10, -142) -> (-22.3205, -138.6603)
  line L121 (-22.3205, -138.6603) -> (-37.909, -129.6603)
  arc A144 (-39.7391, -122.8301) -> (-37.909, -129.6603) centre (-35.409, -125.3301) ccw
  line L122 (-39.7391, -122.8301) -> (-31.7391, -108.9737) construction
  circle A145 centre (0, -132) radius 5.5 construction
  circle A146 centre (0, -105.7513) radius 5.5 construction
  circle A147 centre (-27.2798, -124.25) radius 5.5 construction
  circle A148 centre (27.2798, -124.25) radius 5.5 construction
  line L123 (-131.2436, -25.0172) -> (-131.2436, -32)
  line L124 (-93.3346, -97.6603) -> (-87.2873, -101.1517)
  line L125 (-43.9563, -126.1688) -> (-37.909, -129.6603)
  line L126 (37.909, -129.6603) -> (43.9563, -126.1688)
  line L127 (87.2873, -101.1517) -> (93.3346, -97.6603)
  line L128 (131.2436, -32) -> (131.2436, -25.0172)
  line L129 (131.2436, 25.0172) -> (131.2436, 32)
  line L130 (93.3346, 97.6603) -> (87.2873, 101.1517)
  line L131 (43.9563, 126.1688) -> (37.909, 129.6603)
  line L132 (-37.909, 129.6603) -> (-43.9563, 126.1688)
  line L133 (-87.2873, 101.1517) -> (-93.3346, 97.6603)
  line L134 (-131.2436, 32) -> (-131.2436, 25.0172)
  circle A149 centre (-27.2798, 124.25) radius 2.5
  circle A150 centre (0, 105.7513) radius 2.5
  circle A151 centre (0, 132) radius 2.5
  circle A152 centre (27.2798, 124.25) radius 2.5
  circle A153 centre (-121.2436, 38.5) radius 2.5
  circle A154 centre (-91.5833, 52.8756) radius 2.5
  circle A155 centre (-114.3154, 66) radius 2.5
  circle A156 centre (-93.9638, 85.75) radius 2.5
  circle A157 centre (-93.9638, -85.75) radius 2.5
  circle A158 centre (-91.5833, -52.8756) radius 2.5
  circle A159 centre (-114.3154, -66) radius 2.5
  circle A160 centre (-121.2436, -38.5) radius 2.5
  circle A161 centre (27.2798, -124.25) radius 2.5
  circle A162 centre (0, -105.7513) radius 2.5
  circle A163 centre (0, -132) radius 2.5
  circle A164 centre (-27.2798, -124.25) radius 2.5
  circle A165 centre (121.2436, -38.5) radius 2.5
  circle A166 centre (91.5833, -52.8756) radius 2.5
  circle A167 centre (114.3154, -66) radius 2.5
  circle A168 centre (93.9638, -85.75) radius 2.5
  circle A169 centre (93.9638, 85.75) radius 2.5
  circle A170 centre (91.5833, 52.8756) radius 2.5
  circle A171 centre (114.3154, 66) radius 2.5
  circle A172 centre (121.2436, 38.5) radius 2.5
  point P0 (0, 0)
  dimension "d3" = 360
extrude "Extrusion1" add sketch "Skizze1" along normal blind 3 contours A1 | L3 L128 L57 L58 L59 L60 L61 L127 L11 L126 L117 L118 L119 L120 L121 L125 L19 L124 L105 L106 L107 L108 L109 L123 L27 L134 L93 L94 L95 L96 L97 L133 L35 L132 L81 L82 L83 L84 L85 L131 L43 L130 L69 L70 L71 L72 L73 L129
properties part number "TopBase_Full" material "Holz (Birke)"
